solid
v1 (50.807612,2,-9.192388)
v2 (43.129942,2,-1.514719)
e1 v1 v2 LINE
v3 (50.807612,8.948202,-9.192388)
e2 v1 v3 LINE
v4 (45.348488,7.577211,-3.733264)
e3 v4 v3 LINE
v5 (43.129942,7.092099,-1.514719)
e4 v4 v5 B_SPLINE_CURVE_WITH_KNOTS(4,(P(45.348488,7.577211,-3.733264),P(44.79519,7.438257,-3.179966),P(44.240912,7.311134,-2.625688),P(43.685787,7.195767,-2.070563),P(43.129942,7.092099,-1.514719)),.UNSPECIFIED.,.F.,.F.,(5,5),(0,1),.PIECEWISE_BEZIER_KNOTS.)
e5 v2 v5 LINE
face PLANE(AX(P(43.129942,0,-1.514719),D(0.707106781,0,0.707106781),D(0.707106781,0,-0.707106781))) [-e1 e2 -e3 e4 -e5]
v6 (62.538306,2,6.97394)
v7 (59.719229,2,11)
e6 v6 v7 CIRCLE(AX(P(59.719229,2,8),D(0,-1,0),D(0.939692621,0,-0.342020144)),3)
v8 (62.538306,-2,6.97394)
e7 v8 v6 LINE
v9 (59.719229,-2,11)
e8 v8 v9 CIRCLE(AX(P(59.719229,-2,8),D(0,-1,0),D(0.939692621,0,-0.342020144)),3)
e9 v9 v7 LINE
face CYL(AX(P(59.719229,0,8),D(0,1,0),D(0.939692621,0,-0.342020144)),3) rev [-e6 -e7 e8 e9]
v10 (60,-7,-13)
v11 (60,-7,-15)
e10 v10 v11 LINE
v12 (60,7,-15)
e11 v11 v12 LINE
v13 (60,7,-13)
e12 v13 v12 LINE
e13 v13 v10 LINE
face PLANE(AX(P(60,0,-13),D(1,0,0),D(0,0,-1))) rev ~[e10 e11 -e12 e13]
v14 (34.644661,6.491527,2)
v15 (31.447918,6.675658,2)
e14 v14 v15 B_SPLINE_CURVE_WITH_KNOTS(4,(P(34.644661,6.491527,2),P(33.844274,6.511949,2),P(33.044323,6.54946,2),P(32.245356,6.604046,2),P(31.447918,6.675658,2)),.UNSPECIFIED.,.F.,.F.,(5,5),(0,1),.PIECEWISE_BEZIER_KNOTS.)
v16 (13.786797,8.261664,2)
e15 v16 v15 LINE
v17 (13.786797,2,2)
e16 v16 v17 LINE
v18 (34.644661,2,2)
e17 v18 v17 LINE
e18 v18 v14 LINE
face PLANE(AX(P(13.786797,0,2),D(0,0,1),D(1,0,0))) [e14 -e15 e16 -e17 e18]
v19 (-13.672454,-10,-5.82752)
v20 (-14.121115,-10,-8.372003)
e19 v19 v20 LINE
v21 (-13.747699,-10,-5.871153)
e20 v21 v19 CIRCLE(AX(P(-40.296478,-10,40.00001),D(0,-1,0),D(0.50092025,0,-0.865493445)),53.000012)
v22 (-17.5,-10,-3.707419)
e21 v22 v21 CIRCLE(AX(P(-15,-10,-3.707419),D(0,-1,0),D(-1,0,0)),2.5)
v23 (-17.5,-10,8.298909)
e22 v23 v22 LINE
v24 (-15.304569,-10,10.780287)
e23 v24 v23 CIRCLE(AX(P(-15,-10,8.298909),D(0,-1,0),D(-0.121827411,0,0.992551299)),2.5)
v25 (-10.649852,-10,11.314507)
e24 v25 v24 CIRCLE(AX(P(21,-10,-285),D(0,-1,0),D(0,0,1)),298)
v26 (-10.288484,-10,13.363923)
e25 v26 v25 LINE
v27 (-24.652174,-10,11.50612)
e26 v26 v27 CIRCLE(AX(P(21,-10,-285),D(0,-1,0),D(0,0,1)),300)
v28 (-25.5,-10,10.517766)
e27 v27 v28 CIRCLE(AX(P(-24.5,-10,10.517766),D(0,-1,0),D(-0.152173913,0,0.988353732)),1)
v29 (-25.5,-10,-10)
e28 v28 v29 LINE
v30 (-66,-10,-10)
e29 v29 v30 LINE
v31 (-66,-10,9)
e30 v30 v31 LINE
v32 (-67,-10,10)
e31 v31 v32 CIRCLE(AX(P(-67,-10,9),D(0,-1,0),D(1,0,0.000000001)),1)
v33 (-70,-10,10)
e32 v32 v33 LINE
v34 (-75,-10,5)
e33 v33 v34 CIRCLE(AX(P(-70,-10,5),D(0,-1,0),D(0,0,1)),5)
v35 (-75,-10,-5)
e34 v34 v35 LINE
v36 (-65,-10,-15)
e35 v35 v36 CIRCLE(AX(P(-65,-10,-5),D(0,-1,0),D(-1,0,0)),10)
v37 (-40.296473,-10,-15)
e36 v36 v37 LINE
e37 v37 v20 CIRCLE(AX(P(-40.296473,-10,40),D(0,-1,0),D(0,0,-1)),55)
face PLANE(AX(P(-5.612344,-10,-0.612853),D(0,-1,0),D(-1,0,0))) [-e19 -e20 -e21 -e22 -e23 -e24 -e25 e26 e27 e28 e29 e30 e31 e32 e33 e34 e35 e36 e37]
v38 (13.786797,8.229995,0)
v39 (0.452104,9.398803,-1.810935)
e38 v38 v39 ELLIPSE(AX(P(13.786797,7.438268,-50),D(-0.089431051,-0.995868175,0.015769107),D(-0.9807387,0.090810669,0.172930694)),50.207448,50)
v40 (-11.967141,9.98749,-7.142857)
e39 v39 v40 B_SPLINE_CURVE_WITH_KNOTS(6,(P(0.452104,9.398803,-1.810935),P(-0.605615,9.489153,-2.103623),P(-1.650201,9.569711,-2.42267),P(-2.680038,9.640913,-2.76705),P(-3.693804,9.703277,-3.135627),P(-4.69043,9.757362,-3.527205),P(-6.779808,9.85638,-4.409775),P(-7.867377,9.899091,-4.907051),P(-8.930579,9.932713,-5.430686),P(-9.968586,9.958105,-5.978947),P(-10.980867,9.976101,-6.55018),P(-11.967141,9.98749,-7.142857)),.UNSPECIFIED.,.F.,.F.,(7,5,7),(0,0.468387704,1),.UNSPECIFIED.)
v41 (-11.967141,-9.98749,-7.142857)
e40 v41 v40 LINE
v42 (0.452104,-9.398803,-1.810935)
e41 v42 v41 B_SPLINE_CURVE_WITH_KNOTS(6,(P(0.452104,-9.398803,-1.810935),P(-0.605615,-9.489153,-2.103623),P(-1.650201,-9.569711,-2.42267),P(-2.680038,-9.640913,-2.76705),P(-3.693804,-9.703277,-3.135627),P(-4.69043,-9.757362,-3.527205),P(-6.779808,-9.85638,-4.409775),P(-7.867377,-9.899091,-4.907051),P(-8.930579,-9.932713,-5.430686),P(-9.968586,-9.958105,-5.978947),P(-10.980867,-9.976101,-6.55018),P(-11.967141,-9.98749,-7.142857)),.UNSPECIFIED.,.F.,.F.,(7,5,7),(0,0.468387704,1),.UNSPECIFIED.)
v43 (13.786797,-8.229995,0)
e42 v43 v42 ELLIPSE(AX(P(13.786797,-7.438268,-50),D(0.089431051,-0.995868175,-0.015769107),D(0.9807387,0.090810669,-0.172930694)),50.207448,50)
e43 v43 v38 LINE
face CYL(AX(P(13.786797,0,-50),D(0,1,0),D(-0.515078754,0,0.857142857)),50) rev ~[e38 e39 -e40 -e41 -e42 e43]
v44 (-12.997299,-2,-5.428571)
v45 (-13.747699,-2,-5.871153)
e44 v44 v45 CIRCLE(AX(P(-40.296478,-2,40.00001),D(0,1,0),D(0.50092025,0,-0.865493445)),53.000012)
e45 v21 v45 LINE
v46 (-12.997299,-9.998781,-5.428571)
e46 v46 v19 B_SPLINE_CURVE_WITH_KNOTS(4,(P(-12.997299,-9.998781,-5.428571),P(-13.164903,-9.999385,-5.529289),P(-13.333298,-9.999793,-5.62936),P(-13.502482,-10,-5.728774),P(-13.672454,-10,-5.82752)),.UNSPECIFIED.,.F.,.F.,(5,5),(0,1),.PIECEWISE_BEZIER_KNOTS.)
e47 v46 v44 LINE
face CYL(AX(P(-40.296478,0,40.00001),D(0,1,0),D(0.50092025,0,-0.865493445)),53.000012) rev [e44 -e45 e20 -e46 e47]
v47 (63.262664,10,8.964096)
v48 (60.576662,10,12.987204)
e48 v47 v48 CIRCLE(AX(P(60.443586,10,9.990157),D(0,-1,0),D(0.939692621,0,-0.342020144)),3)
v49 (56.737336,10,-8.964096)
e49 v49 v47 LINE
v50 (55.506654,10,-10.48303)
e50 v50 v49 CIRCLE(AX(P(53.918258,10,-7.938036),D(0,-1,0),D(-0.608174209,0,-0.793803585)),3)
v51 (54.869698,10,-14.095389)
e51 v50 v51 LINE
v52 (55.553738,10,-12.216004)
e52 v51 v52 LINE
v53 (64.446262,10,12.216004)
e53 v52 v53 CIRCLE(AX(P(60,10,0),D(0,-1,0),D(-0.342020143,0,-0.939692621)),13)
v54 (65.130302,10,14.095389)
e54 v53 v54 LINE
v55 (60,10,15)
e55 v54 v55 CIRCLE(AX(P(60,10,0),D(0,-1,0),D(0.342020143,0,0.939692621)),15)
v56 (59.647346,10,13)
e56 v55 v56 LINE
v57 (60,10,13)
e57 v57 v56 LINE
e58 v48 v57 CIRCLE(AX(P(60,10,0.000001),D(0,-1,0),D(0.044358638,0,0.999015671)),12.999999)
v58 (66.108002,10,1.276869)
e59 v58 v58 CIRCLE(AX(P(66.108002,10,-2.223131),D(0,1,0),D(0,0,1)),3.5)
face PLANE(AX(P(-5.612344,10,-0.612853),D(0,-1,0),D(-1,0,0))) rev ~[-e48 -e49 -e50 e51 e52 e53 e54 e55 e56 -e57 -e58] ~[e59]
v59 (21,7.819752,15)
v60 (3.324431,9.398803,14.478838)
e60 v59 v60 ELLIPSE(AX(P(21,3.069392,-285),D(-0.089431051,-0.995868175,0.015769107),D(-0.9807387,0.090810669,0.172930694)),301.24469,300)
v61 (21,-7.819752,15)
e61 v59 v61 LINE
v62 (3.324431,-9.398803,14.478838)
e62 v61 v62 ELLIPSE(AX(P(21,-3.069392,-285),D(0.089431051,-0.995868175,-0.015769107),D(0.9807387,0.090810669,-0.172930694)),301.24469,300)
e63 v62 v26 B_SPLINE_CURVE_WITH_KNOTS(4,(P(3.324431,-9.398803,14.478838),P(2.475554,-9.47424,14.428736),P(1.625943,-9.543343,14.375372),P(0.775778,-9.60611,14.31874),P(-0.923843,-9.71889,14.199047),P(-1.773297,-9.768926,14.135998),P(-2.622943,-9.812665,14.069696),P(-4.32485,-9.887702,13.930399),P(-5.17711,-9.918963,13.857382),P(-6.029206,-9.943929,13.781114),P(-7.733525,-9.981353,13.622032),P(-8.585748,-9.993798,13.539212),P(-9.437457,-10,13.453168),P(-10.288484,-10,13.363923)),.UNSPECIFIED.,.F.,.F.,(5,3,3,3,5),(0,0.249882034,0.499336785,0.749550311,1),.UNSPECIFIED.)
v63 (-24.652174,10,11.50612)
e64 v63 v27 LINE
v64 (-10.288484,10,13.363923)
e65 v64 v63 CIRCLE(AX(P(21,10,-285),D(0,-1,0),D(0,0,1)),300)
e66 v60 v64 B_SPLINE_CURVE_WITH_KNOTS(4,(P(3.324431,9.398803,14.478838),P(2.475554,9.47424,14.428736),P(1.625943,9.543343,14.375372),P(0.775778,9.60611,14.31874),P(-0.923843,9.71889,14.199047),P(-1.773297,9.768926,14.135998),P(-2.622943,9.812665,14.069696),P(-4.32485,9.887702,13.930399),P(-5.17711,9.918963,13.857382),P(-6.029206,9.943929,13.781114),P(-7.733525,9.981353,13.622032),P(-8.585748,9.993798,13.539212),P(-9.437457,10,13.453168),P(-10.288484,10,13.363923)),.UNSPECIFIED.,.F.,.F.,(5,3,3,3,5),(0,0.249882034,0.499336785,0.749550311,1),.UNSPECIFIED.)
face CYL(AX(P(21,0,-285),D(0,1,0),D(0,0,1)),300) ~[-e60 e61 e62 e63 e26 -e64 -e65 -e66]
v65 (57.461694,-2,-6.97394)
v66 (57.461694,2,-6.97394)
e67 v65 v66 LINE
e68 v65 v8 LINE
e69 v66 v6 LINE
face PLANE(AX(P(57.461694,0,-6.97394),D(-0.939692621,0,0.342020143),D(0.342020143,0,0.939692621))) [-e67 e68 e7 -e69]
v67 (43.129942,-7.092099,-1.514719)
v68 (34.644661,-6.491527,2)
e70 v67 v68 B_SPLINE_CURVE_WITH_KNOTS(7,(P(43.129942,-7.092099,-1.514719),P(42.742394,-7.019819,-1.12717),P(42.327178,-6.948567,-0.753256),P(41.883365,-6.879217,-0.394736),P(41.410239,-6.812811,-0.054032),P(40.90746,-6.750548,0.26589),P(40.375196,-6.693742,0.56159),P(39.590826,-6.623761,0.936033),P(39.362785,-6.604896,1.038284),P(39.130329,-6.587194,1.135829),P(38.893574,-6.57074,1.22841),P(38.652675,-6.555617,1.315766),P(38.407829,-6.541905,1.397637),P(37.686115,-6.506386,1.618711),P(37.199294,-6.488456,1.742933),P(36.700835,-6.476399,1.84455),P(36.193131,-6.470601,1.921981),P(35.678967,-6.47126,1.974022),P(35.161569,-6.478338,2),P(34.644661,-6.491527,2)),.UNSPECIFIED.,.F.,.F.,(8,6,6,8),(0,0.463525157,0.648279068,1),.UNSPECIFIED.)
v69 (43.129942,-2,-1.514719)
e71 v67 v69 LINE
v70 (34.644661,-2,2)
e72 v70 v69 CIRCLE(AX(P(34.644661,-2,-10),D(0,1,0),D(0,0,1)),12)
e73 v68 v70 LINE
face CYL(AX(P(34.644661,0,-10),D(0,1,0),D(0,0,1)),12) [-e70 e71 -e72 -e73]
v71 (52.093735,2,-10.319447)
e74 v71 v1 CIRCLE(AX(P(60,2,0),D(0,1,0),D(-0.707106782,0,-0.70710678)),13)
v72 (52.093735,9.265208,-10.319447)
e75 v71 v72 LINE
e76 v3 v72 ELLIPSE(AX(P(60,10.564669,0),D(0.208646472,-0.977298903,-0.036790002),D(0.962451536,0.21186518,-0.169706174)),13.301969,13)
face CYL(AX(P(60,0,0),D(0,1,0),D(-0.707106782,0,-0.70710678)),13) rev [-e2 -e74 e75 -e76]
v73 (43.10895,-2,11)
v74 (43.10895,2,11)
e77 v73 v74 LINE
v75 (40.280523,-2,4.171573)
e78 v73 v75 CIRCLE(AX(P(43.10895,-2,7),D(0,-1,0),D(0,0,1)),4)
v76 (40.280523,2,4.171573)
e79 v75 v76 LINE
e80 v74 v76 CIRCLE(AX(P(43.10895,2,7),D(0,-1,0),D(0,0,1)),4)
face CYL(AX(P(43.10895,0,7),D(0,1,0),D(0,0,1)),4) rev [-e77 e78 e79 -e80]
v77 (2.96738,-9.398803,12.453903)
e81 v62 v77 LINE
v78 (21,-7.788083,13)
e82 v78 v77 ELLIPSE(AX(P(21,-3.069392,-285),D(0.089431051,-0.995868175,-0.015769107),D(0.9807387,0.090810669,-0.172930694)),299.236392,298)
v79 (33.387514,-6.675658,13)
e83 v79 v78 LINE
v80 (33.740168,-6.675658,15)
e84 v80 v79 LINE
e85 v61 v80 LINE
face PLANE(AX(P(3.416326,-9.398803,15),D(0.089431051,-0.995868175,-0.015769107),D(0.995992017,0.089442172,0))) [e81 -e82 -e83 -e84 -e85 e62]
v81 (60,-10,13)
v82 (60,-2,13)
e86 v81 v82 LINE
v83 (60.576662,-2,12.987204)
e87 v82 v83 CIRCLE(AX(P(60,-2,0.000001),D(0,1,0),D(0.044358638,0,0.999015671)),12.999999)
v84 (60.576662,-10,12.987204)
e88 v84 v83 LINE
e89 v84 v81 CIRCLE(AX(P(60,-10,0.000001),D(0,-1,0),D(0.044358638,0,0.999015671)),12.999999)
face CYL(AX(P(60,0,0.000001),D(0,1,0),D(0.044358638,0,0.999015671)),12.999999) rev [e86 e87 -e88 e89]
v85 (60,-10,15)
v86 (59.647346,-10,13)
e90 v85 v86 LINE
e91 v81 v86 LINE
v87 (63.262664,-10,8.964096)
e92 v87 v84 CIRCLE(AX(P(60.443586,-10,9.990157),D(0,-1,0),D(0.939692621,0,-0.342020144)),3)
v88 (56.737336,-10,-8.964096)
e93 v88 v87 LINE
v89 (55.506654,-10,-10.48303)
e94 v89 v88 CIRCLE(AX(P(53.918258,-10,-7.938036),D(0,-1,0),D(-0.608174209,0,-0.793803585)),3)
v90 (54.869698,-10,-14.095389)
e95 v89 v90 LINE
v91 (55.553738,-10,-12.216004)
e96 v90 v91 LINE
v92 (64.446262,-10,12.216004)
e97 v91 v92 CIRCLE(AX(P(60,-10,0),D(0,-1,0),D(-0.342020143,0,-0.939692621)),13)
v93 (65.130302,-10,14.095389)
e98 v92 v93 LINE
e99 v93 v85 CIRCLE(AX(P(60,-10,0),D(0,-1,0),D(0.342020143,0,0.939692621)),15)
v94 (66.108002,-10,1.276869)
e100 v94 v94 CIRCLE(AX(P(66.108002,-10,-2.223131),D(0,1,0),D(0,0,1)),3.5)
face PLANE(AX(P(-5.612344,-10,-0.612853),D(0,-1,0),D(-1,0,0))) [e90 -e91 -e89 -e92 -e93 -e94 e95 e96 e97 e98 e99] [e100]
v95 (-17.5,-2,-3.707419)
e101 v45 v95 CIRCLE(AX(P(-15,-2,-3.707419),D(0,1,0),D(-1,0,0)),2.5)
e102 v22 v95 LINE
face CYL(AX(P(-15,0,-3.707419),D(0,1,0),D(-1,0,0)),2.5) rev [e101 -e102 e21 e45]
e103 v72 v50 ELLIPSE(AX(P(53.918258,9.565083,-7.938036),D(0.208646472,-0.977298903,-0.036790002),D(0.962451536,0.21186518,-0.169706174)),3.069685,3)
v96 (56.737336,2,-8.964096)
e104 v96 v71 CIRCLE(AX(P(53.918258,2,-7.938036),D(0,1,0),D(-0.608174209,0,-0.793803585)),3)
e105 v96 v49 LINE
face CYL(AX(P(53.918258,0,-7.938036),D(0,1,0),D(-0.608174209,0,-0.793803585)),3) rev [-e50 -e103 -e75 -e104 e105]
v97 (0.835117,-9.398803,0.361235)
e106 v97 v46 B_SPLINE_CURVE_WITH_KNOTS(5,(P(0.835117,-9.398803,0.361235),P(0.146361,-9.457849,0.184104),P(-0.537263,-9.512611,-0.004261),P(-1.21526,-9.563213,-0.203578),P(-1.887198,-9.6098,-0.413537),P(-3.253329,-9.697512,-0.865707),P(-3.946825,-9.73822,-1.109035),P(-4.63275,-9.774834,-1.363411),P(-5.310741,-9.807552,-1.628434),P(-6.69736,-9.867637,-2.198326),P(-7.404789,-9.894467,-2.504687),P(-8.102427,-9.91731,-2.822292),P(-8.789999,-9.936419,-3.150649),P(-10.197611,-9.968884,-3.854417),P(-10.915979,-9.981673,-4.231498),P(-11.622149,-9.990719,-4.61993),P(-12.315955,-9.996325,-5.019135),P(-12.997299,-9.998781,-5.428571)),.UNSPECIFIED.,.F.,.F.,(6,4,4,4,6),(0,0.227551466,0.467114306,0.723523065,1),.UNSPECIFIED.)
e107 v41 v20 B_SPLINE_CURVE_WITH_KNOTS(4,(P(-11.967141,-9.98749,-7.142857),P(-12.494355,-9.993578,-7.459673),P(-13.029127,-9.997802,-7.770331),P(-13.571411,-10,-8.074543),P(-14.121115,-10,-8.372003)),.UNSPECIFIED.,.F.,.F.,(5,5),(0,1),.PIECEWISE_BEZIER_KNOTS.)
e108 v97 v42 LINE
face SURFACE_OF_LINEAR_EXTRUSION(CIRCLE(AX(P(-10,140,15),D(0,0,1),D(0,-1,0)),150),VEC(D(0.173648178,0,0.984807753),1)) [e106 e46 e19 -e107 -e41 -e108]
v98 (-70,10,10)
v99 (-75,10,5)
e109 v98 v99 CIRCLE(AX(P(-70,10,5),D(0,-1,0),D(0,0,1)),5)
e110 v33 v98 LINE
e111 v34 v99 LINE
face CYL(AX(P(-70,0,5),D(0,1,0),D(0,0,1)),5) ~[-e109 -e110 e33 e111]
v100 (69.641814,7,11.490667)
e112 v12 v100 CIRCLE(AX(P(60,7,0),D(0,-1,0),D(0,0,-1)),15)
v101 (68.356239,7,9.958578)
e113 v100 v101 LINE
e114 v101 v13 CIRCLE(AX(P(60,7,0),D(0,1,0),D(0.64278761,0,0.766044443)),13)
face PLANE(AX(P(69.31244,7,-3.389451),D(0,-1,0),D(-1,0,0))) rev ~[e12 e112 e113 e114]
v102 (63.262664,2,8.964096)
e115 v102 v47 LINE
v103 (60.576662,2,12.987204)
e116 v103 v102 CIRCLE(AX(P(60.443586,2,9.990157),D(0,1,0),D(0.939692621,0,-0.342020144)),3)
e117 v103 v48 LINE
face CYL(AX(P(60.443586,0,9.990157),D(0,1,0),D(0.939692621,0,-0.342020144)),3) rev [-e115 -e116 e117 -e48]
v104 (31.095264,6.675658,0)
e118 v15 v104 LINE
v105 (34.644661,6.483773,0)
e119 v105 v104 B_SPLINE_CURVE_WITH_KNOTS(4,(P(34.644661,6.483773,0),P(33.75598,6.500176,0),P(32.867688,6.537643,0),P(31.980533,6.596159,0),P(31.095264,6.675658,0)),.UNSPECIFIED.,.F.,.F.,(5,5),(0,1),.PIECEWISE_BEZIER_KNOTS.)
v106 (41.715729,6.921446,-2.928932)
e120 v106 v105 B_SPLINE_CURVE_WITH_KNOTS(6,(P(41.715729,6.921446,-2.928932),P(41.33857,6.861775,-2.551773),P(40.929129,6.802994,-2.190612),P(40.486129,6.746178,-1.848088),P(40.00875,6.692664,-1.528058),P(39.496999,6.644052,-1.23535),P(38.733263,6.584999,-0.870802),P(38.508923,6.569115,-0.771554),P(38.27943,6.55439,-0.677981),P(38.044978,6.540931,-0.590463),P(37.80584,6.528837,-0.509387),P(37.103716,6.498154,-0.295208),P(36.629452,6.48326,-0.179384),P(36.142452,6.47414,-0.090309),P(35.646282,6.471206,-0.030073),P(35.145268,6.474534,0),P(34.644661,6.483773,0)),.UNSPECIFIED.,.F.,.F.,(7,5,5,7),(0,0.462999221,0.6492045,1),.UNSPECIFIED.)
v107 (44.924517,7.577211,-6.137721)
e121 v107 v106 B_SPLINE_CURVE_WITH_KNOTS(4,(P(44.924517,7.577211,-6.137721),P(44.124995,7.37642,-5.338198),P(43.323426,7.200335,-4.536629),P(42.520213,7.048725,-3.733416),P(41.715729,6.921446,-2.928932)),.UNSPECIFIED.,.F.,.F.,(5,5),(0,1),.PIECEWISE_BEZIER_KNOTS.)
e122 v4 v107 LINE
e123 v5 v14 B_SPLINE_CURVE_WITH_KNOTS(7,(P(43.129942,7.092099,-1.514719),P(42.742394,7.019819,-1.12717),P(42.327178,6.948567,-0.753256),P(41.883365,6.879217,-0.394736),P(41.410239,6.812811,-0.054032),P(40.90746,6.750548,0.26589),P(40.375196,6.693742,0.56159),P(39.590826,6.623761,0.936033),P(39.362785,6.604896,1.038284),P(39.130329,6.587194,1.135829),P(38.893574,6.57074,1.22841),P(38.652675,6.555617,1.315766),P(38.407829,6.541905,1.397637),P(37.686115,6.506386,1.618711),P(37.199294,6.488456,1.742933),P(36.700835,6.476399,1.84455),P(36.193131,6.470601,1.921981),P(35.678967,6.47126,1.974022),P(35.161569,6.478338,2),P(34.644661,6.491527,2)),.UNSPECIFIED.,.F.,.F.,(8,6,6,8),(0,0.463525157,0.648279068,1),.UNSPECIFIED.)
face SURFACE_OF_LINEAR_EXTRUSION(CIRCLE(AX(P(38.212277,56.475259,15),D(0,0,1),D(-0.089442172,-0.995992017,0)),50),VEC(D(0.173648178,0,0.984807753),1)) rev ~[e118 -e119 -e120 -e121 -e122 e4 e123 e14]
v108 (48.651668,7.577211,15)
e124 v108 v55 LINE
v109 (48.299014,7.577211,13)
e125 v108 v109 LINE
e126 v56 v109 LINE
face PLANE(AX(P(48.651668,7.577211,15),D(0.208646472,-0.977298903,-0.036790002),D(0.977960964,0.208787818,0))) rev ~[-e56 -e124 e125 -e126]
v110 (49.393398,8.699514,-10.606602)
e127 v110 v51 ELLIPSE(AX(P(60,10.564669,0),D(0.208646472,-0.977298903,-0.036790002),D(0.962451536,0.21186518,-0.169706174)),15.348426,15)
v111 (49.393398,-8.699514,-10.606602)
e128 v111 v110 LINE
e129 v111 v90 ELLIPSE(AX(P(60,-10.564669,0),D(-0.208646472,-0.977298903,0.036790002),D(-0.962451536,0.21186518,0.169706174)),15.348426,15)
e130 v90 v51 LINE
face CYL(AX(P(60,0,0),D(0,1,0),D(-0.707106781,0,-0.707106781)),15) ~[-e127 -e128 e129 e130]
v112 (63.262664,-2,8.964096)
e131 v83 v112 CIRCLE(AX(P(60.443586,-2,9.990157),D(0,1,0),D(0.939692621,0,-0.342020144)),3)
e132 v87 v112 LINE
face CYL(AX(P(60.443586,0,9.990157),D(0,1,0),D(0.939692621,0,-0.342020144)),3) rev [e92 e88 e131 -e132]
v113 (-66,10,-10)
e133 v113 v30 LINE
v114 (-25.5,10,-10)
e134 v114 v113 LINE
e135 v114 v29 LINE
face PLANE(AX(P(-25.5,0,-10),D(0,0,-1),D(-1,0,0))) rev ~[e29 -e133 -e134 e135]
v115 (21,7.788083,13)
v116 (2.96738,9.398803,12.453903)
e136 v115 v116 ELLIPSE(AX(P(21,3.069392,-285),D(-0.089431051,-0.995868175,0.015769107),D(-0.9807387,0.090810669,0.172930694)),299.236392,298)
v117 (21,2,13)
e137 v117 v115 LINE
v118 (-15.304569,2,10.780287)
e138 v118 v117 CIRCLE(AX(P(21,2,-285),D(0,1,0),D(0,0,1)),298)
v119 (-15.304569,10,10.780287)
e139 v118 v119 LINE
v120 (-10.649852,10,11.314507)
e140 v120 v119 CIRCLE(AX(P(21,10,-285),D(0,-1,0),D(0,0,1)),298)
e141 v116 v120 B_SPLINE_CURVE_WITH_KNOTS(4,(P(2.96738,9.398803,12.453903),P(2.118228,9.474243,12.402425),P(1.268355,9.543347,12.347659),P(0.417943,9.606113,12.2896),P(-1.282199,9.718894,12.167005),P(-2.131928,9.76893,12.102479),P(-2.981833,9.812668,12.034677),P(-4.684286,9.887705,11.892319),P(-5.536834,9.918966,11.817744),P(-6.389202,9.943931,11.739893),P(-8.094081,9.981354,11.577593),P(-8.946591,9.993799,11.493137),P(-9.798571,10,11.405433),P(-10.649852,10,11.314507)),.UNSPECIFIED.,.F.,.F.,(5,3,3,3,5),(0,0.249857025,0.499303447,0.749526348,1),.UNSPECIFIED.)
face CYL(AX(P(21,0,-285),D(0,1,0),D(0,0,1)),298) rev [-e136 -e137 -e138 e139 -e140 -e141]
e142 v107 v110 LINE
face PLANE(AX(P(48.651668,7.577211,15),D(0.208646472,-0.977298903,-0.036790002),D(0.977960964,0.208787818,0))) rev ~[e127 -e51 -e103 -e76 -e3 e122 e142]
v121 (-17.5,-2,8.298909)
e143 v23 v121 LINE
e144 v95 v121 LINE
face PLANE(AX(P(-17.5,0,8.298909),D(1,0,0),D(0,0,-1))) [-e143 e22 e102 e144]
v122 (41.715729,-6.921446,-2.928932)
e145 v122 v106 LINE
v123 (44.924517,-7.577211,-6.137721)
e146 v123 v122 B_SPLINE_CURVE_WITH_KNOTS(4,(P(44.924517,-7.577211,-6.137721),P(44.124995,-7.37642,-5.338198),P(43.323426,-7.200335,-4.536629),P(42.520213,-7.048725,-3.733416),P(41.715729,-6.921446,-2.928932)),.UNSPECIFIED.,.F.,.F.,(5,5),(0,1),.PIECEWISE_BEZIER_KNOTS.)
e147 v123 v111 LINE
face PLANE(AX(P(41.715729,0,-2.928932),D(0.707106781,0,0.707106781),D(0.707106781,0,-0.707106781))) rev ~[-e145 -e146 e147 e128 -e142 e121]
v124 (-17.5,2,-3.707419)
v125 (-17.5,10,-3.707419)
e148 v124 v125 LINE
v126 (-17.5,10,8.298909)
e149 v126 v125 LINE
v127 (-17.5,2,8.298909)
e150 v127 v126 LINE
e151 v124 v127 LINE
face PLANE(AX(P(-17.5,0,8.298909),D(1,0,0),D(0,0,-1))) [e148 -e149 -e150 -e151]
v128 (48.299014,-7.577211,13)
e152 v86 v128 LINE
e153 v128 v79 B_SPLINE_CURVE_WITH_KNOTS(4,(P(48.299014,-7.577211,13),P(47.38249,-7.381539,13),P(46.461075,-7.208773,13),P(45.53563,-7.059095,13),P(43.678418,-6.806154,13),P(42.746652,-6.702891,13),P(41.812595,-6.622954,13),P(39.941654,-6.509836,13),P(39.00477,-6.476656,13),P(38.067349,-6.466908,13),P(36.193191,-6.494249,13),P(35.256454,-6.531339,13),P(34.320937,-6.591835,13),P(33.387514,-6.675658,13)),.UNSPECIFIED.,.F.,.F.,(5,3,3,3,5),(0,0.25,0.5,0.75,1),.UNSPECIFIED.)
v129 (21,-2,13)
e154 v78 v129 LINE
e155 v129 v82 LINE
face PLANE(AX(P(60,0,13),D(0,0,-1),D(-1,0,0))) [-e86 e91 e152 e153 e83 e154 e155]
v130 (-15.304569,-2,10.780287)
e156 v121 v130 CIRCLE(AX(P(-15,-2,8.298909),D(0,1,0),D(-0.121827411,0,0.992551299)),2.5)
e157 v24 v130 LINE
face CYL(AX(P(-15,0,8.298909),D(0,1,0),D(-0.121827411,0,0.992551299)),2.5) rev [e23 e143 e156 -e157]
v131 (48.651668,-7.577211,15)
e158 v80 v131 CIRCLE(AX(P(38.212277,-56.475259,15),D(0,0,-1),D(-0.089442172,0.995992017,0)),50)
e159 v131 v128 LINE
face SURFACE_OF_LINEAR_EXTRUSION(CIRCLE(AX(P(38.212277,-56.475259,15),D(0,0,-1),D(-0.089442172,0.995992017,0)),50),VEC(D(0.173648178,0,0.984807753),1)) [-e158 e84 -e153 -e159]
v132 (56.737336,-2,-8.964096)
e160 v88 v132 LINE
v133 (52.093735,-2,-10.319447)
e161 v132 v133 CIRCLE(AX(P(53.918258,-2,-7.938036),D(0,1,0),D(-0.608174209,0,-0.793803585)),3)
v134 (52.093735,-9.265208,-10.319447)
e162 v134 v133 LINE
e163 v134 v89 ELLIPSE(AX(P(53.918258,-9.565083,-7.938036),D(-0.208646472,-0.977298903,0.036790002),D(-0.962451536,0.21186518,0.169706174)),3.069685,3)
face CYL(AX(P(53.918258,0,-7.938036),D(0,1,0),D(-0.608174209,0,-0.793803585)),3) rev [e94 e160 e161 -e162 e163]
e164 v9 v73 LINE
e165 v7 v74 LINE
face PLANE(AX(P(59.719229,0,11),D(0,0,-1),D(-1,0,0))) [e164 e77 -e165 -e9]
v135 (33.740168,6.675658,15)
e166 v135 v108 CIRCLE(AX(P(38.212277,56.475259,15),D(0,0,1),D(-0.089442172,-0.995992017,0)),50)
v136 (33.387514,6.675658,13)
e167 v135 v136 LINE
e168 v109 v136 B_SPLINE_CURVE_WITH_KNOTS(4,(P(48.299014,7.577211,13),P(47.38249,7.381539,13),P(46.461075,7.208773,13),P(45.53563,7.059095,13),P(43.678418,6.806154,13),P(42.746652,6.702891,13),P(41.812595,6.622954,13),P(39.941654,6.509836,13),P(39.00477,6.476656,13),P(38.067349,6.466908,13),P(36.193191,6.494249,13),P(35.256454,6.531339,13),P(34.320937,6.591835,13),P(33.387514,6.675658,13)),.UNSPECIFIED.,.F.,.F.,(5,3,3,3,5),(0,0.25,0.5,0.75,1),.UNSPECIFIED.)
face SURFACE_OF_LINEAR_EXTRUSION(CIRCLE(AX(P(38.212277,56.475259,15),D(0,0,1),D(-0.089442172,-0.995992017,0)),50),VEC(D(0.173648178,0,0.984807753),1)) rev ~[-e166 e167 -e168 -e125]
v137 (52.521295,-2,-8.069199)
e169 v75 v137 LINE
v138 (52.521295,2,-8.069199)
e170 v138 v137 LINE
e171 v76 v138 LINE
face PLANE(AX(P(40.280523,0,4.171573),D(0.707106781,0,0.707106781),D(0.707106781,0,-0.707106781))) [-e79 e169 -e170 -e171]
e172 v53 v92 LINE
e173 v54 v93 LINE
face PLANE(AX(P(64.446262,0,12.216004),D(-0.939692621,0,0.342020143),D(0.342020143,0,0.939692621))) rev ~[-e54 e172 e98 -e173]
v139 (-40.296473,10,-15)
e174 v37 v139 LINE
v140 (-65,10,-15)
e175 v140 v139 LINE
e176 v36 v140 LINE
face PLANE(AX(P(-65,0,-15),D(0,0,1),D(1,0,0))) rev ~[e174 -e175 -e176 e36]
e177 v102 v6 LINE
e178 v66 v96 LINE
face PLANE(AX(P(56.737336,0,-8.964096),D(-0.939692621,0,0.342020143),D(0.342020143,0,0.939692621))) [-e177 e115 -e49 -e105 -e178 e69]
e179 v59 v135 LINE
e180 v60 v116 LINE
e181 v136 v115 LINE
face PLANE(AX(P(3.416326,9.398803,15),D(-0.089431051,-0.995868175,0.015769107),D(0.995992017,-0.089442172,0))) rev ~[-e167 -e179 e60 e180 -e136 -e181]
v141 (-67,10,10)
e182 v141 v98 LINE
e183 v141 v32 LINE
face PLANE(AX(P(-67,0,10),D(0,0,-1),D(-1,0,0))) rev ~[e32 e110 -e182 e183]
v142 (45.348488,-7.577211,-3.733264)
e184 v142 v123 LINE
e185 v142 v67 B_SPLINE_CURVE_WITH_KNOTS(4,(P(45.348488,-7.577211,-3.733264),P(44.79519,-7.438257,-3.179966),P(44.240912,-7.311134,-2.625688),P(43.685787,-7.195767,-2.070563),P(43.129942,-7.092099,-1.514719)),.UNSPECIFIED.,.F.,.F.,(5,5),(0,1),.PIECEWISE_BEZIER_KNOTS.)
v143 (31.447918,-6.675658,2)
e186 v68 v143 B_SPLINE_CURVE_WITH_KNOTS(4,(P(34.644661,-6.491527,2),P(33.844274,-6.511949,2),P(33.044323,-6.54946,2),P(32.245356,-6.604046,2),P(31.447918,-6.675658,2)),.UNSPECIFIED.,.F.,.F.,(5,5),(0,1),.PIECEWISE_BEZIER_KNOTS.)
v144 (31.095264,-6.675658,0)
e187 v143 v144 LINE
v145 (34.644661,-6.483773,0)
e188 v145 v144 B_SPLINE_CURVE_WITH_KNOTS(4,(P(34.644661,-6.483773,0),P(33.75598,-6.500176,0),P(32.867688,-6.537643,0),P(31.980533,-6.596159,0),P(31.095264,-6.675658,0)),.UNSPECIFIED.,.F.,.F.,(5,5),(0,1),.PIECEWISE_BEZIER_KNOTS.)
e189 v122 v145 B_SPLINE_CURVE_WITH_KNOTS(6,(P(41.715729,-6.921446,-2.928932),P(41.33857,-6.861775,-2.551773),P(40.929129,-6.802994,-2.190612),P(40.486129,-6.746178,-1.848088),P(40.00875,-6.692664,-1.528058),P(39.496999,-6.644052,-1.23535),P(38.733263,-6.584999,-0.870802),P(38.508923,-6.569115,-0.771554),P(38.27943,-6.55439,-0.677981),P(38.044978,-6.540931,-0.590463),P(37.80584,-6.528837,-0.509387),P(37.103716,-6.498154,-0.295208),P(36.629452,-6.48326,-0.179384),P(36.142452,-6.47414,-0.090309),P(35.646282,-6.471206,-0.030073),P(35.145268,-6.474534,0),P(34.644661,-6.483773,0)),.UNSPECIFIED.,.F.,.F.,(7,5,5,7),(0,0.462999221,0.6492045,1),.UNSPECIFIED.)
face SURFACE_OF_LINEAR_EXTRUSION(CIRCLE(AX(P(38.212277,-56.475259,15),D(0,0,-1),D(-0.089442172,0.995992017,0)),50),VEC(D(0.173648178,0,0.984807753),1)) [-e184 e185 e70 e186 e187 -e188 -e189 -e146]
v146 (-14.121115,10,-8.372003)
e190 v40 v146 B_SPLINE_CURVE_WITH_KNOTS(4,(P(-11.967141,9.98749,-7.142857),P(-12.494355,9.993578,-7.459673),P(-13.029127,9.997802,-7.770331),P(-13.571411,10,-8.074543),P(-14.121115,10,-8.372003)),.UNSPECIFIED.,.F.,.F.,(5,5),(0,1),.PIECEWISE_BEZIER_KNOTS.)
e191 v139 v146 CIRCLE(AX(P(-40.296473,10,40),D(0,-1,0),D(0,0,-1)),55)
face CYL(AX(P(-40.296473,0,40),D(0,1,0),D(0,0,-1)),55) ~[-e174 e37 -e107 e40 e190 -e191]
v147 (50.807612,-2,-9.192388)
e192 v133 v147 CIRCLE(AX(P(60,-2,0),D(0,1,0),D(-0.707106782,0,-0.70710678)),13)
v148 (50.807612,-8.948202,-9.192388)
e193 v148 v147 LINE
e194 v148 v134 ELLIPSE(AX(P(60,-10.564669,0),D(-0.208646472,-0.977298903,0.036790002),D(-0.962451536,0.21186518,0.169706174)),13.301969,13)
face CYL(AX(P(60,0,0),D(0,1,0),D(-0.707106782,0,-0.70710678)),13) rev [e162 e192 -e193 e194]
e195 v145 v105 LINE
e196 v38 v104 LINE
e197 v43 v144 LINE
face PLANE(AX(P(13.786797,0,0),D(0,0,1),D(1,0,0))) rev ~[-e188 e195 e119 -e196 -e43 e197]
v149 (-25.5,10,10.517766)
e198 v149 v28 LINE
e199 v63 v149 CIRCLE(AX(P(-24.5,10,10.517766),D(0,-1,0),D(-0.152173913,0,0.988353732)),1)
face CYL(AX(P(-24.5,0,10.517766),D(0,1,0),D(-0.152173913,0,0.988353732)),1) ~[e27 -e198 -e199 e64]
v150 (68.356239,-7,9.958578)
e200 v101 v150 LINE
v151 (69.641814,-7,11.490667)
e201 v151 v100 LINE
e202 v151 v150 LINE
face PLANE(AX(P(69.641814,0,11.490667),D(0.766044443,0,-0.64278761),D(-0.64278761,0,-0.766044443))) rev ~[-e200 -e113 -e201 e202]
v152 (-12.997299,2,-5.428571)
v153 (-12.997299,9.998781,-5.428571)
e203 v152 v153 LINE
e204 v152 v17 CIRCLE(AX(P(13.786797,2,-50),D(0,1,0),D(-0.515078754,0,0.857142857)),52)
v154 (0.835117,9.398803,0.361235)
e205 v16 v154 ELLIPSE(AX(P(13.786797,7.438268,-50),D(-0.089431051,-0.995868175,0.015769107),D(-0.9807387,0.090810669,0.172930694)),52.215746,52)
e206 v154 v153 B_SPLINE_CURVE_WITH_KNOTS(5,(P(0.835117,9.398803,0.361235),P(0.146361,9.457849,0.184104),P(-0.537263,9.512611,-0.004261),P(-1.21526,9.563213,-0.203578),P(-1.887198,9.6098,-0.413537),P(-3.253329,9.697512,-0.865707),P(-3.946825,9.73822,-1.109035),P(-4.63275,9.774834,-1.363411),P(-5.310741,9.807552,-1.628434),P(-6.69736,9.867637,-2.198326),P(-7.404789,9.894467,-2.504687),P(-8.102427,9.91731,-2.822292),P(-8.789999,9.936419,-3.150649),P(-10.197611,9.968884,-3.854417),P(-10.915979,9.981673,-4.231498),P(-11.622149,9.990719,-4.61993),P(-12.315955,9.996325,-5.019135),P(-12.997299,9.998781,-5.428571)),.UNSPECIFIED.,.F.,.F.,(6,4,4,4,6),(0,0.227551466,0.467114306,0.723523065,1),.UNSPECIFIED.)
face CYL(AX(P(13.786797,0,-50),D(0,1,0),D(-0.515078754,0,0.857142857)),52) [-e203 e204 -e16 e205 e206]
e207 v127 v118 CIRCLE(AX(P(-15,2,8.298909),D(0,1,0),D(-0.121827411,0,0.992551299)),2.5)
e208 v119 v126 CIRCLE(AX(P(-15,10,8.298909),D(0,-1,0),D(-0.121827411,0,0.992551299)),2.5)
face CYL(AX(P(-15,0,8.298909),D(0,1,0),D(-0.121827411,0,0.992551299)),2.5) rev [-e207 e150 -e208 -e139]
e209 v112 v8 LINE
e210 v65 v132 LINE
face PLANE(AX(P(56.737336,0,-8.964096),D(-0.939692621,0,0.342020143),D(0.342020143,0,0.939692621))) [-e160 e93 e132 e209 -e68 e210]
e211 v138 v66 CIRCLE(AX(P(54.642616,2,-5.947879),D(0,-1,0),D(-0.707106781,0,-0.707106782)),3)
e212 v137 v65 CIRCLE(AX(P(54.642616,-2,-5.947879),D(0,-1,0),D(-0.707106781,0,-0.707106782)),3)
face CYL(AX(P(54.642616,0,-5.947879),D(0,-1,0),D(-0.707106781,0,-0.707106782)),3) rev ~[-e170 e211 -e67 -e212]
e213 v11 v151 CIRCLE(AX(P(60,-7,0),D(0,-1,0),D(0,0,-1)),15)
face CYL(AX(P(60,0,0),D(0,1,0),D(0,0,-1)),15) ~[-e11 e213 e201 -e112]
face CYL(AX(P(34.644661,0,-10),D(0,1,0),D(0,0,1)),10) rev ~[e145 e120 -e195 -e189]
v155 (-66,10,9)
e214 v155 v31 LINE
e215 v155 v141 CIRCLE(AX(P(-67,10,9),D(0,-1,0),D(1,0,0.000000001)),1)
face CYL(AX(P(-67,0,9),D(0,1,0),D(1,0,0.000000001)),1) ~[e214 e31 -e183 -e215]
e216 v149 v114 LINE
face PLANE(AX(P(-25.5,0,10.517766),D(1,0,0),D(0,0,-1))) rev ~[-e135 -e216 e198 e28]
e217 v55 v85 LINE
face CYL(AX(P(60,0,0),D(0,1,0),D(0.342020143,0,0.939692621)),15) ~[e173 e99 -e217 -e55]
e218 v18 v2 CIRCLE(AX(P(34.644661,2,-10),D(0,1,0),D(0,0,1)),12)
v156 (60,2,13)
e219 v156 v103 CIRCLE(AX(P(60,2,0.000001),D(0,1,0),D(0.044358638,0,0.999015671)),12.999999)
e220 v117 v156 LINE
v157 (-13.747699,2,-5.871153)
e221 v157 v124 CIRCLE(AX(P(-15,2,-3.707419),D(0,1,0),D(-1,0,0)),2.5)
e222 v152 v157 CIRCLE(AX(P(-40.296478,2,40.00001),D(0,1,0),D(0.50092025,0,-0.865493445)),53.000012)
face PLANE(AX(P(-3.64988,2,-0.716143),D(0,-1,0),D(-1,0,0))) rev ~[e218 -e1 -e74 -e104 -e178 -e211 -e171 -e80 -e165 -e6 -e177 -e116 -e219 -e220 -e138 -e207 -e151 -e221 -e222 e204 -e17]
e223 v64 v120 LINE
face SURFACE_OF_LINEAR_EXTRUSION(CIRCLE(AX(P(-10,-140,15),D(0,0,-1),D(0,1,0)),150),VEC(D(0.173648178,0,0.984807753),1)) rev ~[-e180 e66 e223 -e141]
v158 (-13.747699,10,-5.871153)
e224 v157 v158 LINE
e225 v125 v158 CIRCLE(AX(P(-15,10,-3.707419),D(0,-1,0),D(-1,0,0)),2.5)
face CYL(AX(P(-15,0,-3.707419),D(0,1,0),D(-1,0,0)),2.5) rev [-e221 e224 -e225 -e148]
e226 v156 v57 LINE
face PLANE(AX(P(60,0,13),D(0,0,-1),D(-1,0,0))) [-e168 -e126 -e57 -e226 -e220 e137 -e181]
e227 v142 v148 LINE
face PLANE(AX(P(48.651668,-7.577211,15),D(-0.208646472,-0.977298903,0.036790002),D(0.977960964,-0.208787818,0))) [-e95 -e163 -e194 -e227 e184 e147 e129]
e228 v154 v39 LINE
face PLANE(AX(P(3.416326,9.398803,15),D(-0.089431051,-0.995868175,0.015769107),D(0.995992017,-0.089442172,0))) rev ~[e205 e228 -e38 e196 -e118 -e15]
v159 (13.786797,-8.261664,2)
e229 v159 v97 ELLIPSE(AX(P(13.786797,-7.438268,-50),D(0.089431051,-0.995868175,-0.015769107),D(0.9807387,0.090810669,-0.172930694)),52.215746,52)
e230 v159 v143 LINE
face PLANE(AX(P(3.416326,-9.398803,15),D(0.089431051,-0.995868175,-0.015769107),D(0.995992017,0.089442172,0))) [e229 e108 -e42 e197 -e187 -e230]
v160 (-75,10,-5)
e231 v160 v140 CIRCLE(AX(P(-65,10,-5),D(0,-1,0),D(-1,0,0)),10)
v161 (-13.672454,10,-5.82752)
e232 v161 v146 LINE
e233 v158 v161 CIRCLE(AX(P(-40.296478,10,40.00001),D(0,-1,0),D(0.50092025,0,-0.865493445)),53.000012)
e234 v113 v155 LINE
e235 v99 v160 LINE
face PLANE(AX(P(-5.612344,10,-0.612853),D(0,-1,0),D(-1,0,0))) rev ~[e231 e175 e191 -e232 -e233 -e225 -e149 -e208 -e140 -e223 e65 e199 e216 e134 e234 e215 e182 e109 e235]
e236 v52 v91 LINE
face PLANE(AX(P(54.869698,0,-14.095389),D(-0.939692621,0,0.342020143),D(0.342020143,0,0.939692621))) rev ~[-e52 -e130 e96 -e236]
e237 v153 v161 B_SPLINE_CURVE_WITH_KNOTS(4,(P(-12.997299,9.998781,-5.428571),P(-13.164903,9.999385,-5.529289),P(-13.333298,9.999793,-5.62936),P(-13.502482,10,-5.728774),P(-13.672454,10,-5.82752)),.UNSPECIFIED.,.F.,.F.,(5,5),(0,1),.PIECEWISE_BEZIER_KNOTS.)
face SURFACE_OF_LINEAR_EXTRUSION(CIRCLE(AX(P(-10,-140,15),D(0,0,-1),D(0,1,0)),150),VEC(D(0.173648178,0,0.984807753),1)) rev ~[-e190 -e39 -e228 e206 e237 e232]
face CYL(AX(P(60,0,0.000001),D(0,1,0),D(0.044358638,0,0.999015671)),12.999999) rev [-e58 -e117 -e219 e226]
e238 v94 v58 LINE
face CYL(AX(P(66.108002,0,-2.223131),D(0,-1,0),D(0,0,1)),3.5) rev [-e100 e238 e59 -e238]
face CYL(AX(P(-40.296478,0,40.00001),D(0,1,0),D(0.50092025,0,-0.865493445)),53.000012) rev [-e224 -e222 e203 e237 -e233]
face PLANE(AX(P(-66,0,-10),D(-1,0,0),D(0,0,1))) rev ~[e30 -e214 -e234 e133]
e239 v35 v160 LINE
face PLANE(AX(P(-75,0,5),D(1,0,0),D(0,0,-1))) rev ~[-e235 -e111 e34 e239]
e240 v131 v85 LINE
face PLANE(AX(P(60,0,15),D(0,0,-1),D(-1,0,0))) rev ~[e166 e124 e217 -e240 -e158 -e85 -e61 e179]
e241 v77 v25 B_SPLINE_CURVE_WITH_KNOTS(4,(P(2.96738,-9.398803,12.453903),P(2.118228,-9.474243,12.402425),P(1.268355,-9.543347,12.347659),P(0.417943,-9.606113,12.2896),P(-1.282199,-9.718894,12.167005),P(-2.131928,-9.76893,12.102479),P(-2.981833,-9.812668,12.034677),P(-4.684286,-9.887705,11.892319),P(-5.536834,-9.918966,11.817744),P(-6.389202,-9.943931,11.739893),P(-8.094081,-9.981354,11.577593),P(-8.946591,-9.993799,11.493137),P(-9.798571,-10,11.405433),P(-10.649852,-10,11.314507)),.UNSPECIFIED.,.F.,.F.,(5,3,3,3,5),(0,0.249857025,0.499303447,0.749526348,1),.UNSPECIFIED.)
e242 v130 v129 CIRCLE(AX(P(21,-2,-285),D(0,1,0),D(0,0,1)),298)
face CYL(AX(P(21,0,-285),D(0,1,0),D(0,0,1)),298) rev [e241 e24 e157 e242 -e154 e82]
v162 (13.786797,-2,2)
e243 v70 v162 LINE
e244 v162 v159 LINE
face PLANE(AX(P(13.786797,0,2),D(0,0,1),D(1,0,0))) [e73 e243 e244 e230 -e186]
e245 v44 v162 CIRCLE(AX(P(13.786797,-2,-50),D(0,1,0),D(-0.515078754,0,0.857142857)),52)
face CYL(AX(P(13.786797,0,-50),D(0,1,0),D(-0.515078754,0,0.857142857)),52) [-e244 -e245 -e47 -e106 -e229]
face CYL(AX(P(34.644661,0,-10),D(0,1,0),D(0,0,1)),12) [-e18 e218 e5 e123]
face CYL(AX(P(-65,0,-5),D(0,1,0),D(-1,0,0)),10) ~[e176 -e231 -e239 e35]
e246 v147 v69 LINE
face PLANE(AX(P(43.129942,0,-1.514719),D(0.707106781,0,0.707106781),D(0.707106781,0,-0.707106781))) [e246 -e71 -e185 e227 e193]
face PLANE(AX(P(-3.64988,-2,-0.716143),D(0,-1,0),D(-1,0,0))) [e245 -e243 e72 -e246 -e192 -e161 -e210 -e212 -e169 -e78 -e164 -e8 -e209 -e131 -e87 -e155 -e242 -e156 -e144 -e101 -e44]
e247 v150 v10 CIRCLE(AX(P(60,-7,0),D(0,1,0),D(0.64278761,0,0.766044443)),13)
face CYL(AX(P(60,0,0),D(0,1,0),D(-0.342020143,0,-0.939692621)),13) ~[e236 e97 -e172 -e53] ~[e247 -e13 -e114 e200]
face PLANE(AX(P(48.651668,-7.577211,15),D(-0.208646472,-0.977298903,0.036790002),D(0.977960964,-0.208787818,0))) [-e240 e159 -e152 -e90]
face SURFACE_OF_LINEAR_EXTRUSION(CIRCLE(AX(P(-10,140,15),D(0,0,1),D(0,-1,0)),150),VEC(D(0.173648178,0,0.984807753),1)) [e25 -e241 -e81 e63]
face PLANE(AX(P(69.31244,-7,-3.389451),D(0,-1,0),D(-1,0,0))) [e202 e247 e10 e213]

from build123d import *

# Parameters (mm, degrees)
CROQUIS1_R              = 3.5
SALIENTE_EXTRUIR1_DEPTH = 2
CROQUIS2_R              = 3.5
SALIENTE_EXTRUIR2_DEPTH = 10
SALIENTE_EXTRUIR3_DEPTH = 7
CORTAR_EXTRUIR1_DEPTH   = 83.665164829


with BuildPart() as part:
    # Croquis1 → Saliente-Extruir1 (new, symmetric)
    with BuildSketch(Plane(origin=(0, 0, 0), x_dir=(1, 0, 0), z_dir=(0, 1, 0))):
        with BuildLine():
            Line((-65, 15), (-40.296472568, 15))
            ThreePointArc((-40.296472568, 15), (-25.597104262, 12.999326141), (-11.967141117, 7.142857143))
            ThreePointArc((-11.967141117, 7.142857143), (0.423734469, 1.818794417), (13.786796564, 0))
            Line((13.786796564, 0), (34.644660941, 0))
            ThreePointArc((34.644660941, 0), (38.471495264, 0.761204675), (41.715728753, 2.928932188))
            Line((41.715728753, 2.928932188), (49.393398282, 10.606601718))
            ThreePointArc((49.393398282, 10.606601718), (51.940505875, 12.650871687), (54.86969785, 14.095389312))
            Line((54.86969785, 14.095389312), (55.553738137, 12.21600407))
            ThreePointArc((55.553738137, 12.21600407), (57.74257369, 12.802500789), (60, 13))
            Line((60, 13), (60, 15))
            ThreePointArc((60, 15), (74.095389312, 5.13030215), (69.641814145, -11.490666647))
            Line((69.641814145, -11.490666647), (68.356238926, -9.958577761))
            ThreePointArc((68.356238926, -9.958577761), (66.5, -11.258330249), (64.446261863, -12.21600407))
            Line((64.446261863, -12.21600407), (65.13030215, -14.095389312))
            ThreePointArc((65.13030215, -14.095389312), (62.604722665, -14.772116295), (60, -15))
            Line((60, -15), (21, -15))
            ThreePointArc((21, -15), (-1.892838305, -14.125254625), (-24.652173913, -11.506119696))
            ThreePointArc((-24.652173913, -11.506119696), (-25.259003924, -11.168852013), (-25.5, -10.517765963))
            Line((-25.5, -10.517765963), (-25.5, 10))
            Line((-25.5, 10), (-66, 10))
            Line((-66, 10), (-66, -9))
            ThreePointArc((-66, -9), (-66.292893219, -9.707106781), (-67, -10))
            Line((-67, -10), (-70, -10))
            ThreePointArc((-70, -10), (-73.535533906, -8.535533906), (-75, -5))
            Line((-75, -5), (-75, 5))
            ThreePointArc((-75, 5), (-72.071067812, 12.071067812), (-65, 15))
        make_face()
        with Locations(Location((66.108002035, 2.223130932, 0), (0, 0, 270))):
            Circle(CROQUIS1_R, mode=Mode.SUBTRACT)
        with BuildLine():
            Line((57.461693581, 6.97393957), (62.538306419, -6.97393957))
            ThreePointArc((62.538306419, -6.97393957), (62.17668469, -9.720729309), (59.719228557, -11))
            Line((59.719228557, -11), (43.108950141, -11))
            ThreePointArc((43.108950141, -11), (39.413432011, -8.530733729), (40.280523016, -4.171572875))
            Line((40.280523016, -4.171572875), (52.521295375, 8.069199484))
            ThreePointArc((52.521295375, 8.069199484), (55.29193456, 8.876767161), (57.461693581, 6.97393957))
        make_face(mode=Mode.SUBTRACT)
    extrude(amount=SALIENTE_EXTRUIR1_DEPTH, both=True)

    # Croquis2 → Saliente-Extruir2 (add, symmetric)
    with BuildSketch(Plane(origin=(0, 0, 0), x_dir=(1, 0, 0), z_dir=(0, 1, 0))):
        with BuildLine():
            Line((54.86969785, 14.095389312), (55.553738137, 12.21600407))
            ThreePointArc((55.553738137, 12.21600407), (72.21600407, 4.446261863), (64.446261863, -12.21600407))
            Line((64.446261863, -12.21600407), (65.13030215, -14.095389312))
            ThreePointArc((65.13030215, -14.095389312), (62.604722665, -14.772116295), (60, -15))
            Line((60, -15), (21, -15))
            ThreePointArc((21, -15), (-1.892838305, -14.125254625), (-24.652173913, -11.506119696))
            ThreePointArc((-24.652173913, -11.506119696), (-25.259003924, -11.168852013), (-25.5, -10.517765963))
            Line((-25.5, -10.517765963), (-25.5, 10))
            Line((-25.5, 10), (-66, 10))
            Line((-66, 10), (-66, -9))
            ThreePointArc((-66, -9), (-66.292893219, -9.707106781), (-67, -10))
            Line((-67, -10), (-70, -10))
            ThreePointArc((-70, -10), (-73.535533906, -8.535533906), (-75, -5))
            Line((-75, -5), (-75, 5))
            ThreePointArc((-75, 5), (-72.071067812, 12.071067812), (-65, 15))
            Line((-65, 15), (-40.296472568, 15))
            ThreePointArc((-40.296472568, 15), (-25.597104262, 12.999326141), (-11.967141117, 7.142857143))
            ThreePointArc((-11.967141117, 7.142857143), (0.423734469, 1.818794417), (13.786796564, 0))
            Line((13.786796564, 0), (34.644660941, 0))
            ThreePointArc((34.644660941, 0), (38.471495264, 0.761204675), (41.715728753, 2.928932188))
            Line((41.715728753, 2.928932188), (49.393398282, 10.606601718))
            ThreePointArc((49.393398282, 10.606601718), (51.940505875, 12.650871687), (54.86969785, 14.095389312))
        make_face()
        with Locations(Location((66.108002035, 2.223130932, 0), (0, 0, 270))):
            Circle(CROQUIS2_R, mode=Mode.SUBTRACT)
        with BuildLine():
            Line((13.786796564, -2), (34.644660941, -2))
            ThreePointArc((34.644660941, -2), (39.236862129, -1.08655439), (43.129942315, 1.514718626))
            Line((43.129942315, 1.514718626), (50.807611845, 9.192388155))
            ThreePointArc((50.807611845, 9.192388155), (51.432121169, 9.777088132), (52.093735288, 10.319446608))
            ThreePointArc((52.093735288, 10.319446608), (54.758810503, 10.817874623), (56.737335776, 8.964096282))
            Line((56.737335776, 8.964096282), (63.262664224, -8.964096282))
            ThreePointArc((63.262664224, -8.964096282), (62.938611682, -11.65594441), (60.57666227, -12.987203726))
            ThreePointArc((60.57666227, -12.987203726), (60.288402114, -12.996800538), (60, -13))
            Line((60, -13), (21, -13))
            ThreePointArc((21, -13), (2.813818289, -12.444554152), (-15.304568528, -10.780287213))
            ThreePointArc((-15.304568528, -10.780287213), (-16.872354309, -9.955498637), (-17.5, -8.298908965))
            Line((-17.5, -8.298908965), (-17.5, 3.707419))
            ThreePointArc((-17.5, 3.707419), (-16.248849159, 5.87314654), (-13.747699378, 5.871152614))
            ThreePointArc((-13.747699378, 5.871152614), (-13.371589613, 5.651403898), (-12.997298625, 5.428571429))
            ThreePointArc((-12.997298625, 5.428571429), (-0.110788015, -0.108453806), (13.786796564, -2))
        make_face(mode=Mode.SUBTRACT)
    extrude(amount=SALIENTE_EXTRUIR2_DEPTH, both=True)

    # Croquis3 → Saliente-Extruir3 (add, symmetric)
    with BuildSketch(Plane(origin=(0, 0, 0), x_dir=(1, 0, 0), z_dir=(0, 1, 0))):
        with BuildLine():
            Line((69.641814145, -11.490666647), (68.356238926, -9.958577761))
            ThreePointArc((68.356238926, -9.958577761), (72.21600407, 4.446261863), (60, 13))
            Line((60, 13), (60, 15))
            ThreePointArc((60, 15), (74.095389312, 5.13030215), (69.641814145, -11.490666647))
        make_face()
    extrude(amount=SALIENTE_EXTRUIR3_DEPTH, both=True)

    # Croquis4 → Cortar-Extruir1 (cut, through all, along a direction that is not the sketch's normal)
    with BuildSketch(Plane.XY.offset(15)):
        with BuildLine():
            Line((60, 10), (-10, 10))
            ThreePointArc((-10, 10), (-3.285105416, 9.849625261), (3.416325828, 9.398802543))
            Line((3.416325828, 9.398802543), (33.740168262, 6.675657889))
            ThreePointArc((33.740168262, 6.675657889), (41.229778106, 6.566394932), (48.651667745, 7.577210532))
            Line((48.651667745, 7.577210532), (60, 10))
        make_face()
        with BuildLine():
            Line((60, -10), (-10, -10))
            ThreePointArc((-10, -10), (-3.285105416, -9.849625261), (3.416325828, -9.398802543))
            Line((3.416325828, -9.398802543), (33.740168262, -6.675657889))
            ThreePointArc((33.740168262, -6.675657889), (41.229778106, -6.566394932), (48.651667745, -7.577210532))
            Line((48.651667745, -7.577210532), (60, -10))
        make_face()
    extrude(amount=-CORTAR_EXTRUIR1_DEPTH, dir=(0.1736481776669275, 0, 0.9848077530122086), mode=Mode.SUBTRACT)


solid = part.part
